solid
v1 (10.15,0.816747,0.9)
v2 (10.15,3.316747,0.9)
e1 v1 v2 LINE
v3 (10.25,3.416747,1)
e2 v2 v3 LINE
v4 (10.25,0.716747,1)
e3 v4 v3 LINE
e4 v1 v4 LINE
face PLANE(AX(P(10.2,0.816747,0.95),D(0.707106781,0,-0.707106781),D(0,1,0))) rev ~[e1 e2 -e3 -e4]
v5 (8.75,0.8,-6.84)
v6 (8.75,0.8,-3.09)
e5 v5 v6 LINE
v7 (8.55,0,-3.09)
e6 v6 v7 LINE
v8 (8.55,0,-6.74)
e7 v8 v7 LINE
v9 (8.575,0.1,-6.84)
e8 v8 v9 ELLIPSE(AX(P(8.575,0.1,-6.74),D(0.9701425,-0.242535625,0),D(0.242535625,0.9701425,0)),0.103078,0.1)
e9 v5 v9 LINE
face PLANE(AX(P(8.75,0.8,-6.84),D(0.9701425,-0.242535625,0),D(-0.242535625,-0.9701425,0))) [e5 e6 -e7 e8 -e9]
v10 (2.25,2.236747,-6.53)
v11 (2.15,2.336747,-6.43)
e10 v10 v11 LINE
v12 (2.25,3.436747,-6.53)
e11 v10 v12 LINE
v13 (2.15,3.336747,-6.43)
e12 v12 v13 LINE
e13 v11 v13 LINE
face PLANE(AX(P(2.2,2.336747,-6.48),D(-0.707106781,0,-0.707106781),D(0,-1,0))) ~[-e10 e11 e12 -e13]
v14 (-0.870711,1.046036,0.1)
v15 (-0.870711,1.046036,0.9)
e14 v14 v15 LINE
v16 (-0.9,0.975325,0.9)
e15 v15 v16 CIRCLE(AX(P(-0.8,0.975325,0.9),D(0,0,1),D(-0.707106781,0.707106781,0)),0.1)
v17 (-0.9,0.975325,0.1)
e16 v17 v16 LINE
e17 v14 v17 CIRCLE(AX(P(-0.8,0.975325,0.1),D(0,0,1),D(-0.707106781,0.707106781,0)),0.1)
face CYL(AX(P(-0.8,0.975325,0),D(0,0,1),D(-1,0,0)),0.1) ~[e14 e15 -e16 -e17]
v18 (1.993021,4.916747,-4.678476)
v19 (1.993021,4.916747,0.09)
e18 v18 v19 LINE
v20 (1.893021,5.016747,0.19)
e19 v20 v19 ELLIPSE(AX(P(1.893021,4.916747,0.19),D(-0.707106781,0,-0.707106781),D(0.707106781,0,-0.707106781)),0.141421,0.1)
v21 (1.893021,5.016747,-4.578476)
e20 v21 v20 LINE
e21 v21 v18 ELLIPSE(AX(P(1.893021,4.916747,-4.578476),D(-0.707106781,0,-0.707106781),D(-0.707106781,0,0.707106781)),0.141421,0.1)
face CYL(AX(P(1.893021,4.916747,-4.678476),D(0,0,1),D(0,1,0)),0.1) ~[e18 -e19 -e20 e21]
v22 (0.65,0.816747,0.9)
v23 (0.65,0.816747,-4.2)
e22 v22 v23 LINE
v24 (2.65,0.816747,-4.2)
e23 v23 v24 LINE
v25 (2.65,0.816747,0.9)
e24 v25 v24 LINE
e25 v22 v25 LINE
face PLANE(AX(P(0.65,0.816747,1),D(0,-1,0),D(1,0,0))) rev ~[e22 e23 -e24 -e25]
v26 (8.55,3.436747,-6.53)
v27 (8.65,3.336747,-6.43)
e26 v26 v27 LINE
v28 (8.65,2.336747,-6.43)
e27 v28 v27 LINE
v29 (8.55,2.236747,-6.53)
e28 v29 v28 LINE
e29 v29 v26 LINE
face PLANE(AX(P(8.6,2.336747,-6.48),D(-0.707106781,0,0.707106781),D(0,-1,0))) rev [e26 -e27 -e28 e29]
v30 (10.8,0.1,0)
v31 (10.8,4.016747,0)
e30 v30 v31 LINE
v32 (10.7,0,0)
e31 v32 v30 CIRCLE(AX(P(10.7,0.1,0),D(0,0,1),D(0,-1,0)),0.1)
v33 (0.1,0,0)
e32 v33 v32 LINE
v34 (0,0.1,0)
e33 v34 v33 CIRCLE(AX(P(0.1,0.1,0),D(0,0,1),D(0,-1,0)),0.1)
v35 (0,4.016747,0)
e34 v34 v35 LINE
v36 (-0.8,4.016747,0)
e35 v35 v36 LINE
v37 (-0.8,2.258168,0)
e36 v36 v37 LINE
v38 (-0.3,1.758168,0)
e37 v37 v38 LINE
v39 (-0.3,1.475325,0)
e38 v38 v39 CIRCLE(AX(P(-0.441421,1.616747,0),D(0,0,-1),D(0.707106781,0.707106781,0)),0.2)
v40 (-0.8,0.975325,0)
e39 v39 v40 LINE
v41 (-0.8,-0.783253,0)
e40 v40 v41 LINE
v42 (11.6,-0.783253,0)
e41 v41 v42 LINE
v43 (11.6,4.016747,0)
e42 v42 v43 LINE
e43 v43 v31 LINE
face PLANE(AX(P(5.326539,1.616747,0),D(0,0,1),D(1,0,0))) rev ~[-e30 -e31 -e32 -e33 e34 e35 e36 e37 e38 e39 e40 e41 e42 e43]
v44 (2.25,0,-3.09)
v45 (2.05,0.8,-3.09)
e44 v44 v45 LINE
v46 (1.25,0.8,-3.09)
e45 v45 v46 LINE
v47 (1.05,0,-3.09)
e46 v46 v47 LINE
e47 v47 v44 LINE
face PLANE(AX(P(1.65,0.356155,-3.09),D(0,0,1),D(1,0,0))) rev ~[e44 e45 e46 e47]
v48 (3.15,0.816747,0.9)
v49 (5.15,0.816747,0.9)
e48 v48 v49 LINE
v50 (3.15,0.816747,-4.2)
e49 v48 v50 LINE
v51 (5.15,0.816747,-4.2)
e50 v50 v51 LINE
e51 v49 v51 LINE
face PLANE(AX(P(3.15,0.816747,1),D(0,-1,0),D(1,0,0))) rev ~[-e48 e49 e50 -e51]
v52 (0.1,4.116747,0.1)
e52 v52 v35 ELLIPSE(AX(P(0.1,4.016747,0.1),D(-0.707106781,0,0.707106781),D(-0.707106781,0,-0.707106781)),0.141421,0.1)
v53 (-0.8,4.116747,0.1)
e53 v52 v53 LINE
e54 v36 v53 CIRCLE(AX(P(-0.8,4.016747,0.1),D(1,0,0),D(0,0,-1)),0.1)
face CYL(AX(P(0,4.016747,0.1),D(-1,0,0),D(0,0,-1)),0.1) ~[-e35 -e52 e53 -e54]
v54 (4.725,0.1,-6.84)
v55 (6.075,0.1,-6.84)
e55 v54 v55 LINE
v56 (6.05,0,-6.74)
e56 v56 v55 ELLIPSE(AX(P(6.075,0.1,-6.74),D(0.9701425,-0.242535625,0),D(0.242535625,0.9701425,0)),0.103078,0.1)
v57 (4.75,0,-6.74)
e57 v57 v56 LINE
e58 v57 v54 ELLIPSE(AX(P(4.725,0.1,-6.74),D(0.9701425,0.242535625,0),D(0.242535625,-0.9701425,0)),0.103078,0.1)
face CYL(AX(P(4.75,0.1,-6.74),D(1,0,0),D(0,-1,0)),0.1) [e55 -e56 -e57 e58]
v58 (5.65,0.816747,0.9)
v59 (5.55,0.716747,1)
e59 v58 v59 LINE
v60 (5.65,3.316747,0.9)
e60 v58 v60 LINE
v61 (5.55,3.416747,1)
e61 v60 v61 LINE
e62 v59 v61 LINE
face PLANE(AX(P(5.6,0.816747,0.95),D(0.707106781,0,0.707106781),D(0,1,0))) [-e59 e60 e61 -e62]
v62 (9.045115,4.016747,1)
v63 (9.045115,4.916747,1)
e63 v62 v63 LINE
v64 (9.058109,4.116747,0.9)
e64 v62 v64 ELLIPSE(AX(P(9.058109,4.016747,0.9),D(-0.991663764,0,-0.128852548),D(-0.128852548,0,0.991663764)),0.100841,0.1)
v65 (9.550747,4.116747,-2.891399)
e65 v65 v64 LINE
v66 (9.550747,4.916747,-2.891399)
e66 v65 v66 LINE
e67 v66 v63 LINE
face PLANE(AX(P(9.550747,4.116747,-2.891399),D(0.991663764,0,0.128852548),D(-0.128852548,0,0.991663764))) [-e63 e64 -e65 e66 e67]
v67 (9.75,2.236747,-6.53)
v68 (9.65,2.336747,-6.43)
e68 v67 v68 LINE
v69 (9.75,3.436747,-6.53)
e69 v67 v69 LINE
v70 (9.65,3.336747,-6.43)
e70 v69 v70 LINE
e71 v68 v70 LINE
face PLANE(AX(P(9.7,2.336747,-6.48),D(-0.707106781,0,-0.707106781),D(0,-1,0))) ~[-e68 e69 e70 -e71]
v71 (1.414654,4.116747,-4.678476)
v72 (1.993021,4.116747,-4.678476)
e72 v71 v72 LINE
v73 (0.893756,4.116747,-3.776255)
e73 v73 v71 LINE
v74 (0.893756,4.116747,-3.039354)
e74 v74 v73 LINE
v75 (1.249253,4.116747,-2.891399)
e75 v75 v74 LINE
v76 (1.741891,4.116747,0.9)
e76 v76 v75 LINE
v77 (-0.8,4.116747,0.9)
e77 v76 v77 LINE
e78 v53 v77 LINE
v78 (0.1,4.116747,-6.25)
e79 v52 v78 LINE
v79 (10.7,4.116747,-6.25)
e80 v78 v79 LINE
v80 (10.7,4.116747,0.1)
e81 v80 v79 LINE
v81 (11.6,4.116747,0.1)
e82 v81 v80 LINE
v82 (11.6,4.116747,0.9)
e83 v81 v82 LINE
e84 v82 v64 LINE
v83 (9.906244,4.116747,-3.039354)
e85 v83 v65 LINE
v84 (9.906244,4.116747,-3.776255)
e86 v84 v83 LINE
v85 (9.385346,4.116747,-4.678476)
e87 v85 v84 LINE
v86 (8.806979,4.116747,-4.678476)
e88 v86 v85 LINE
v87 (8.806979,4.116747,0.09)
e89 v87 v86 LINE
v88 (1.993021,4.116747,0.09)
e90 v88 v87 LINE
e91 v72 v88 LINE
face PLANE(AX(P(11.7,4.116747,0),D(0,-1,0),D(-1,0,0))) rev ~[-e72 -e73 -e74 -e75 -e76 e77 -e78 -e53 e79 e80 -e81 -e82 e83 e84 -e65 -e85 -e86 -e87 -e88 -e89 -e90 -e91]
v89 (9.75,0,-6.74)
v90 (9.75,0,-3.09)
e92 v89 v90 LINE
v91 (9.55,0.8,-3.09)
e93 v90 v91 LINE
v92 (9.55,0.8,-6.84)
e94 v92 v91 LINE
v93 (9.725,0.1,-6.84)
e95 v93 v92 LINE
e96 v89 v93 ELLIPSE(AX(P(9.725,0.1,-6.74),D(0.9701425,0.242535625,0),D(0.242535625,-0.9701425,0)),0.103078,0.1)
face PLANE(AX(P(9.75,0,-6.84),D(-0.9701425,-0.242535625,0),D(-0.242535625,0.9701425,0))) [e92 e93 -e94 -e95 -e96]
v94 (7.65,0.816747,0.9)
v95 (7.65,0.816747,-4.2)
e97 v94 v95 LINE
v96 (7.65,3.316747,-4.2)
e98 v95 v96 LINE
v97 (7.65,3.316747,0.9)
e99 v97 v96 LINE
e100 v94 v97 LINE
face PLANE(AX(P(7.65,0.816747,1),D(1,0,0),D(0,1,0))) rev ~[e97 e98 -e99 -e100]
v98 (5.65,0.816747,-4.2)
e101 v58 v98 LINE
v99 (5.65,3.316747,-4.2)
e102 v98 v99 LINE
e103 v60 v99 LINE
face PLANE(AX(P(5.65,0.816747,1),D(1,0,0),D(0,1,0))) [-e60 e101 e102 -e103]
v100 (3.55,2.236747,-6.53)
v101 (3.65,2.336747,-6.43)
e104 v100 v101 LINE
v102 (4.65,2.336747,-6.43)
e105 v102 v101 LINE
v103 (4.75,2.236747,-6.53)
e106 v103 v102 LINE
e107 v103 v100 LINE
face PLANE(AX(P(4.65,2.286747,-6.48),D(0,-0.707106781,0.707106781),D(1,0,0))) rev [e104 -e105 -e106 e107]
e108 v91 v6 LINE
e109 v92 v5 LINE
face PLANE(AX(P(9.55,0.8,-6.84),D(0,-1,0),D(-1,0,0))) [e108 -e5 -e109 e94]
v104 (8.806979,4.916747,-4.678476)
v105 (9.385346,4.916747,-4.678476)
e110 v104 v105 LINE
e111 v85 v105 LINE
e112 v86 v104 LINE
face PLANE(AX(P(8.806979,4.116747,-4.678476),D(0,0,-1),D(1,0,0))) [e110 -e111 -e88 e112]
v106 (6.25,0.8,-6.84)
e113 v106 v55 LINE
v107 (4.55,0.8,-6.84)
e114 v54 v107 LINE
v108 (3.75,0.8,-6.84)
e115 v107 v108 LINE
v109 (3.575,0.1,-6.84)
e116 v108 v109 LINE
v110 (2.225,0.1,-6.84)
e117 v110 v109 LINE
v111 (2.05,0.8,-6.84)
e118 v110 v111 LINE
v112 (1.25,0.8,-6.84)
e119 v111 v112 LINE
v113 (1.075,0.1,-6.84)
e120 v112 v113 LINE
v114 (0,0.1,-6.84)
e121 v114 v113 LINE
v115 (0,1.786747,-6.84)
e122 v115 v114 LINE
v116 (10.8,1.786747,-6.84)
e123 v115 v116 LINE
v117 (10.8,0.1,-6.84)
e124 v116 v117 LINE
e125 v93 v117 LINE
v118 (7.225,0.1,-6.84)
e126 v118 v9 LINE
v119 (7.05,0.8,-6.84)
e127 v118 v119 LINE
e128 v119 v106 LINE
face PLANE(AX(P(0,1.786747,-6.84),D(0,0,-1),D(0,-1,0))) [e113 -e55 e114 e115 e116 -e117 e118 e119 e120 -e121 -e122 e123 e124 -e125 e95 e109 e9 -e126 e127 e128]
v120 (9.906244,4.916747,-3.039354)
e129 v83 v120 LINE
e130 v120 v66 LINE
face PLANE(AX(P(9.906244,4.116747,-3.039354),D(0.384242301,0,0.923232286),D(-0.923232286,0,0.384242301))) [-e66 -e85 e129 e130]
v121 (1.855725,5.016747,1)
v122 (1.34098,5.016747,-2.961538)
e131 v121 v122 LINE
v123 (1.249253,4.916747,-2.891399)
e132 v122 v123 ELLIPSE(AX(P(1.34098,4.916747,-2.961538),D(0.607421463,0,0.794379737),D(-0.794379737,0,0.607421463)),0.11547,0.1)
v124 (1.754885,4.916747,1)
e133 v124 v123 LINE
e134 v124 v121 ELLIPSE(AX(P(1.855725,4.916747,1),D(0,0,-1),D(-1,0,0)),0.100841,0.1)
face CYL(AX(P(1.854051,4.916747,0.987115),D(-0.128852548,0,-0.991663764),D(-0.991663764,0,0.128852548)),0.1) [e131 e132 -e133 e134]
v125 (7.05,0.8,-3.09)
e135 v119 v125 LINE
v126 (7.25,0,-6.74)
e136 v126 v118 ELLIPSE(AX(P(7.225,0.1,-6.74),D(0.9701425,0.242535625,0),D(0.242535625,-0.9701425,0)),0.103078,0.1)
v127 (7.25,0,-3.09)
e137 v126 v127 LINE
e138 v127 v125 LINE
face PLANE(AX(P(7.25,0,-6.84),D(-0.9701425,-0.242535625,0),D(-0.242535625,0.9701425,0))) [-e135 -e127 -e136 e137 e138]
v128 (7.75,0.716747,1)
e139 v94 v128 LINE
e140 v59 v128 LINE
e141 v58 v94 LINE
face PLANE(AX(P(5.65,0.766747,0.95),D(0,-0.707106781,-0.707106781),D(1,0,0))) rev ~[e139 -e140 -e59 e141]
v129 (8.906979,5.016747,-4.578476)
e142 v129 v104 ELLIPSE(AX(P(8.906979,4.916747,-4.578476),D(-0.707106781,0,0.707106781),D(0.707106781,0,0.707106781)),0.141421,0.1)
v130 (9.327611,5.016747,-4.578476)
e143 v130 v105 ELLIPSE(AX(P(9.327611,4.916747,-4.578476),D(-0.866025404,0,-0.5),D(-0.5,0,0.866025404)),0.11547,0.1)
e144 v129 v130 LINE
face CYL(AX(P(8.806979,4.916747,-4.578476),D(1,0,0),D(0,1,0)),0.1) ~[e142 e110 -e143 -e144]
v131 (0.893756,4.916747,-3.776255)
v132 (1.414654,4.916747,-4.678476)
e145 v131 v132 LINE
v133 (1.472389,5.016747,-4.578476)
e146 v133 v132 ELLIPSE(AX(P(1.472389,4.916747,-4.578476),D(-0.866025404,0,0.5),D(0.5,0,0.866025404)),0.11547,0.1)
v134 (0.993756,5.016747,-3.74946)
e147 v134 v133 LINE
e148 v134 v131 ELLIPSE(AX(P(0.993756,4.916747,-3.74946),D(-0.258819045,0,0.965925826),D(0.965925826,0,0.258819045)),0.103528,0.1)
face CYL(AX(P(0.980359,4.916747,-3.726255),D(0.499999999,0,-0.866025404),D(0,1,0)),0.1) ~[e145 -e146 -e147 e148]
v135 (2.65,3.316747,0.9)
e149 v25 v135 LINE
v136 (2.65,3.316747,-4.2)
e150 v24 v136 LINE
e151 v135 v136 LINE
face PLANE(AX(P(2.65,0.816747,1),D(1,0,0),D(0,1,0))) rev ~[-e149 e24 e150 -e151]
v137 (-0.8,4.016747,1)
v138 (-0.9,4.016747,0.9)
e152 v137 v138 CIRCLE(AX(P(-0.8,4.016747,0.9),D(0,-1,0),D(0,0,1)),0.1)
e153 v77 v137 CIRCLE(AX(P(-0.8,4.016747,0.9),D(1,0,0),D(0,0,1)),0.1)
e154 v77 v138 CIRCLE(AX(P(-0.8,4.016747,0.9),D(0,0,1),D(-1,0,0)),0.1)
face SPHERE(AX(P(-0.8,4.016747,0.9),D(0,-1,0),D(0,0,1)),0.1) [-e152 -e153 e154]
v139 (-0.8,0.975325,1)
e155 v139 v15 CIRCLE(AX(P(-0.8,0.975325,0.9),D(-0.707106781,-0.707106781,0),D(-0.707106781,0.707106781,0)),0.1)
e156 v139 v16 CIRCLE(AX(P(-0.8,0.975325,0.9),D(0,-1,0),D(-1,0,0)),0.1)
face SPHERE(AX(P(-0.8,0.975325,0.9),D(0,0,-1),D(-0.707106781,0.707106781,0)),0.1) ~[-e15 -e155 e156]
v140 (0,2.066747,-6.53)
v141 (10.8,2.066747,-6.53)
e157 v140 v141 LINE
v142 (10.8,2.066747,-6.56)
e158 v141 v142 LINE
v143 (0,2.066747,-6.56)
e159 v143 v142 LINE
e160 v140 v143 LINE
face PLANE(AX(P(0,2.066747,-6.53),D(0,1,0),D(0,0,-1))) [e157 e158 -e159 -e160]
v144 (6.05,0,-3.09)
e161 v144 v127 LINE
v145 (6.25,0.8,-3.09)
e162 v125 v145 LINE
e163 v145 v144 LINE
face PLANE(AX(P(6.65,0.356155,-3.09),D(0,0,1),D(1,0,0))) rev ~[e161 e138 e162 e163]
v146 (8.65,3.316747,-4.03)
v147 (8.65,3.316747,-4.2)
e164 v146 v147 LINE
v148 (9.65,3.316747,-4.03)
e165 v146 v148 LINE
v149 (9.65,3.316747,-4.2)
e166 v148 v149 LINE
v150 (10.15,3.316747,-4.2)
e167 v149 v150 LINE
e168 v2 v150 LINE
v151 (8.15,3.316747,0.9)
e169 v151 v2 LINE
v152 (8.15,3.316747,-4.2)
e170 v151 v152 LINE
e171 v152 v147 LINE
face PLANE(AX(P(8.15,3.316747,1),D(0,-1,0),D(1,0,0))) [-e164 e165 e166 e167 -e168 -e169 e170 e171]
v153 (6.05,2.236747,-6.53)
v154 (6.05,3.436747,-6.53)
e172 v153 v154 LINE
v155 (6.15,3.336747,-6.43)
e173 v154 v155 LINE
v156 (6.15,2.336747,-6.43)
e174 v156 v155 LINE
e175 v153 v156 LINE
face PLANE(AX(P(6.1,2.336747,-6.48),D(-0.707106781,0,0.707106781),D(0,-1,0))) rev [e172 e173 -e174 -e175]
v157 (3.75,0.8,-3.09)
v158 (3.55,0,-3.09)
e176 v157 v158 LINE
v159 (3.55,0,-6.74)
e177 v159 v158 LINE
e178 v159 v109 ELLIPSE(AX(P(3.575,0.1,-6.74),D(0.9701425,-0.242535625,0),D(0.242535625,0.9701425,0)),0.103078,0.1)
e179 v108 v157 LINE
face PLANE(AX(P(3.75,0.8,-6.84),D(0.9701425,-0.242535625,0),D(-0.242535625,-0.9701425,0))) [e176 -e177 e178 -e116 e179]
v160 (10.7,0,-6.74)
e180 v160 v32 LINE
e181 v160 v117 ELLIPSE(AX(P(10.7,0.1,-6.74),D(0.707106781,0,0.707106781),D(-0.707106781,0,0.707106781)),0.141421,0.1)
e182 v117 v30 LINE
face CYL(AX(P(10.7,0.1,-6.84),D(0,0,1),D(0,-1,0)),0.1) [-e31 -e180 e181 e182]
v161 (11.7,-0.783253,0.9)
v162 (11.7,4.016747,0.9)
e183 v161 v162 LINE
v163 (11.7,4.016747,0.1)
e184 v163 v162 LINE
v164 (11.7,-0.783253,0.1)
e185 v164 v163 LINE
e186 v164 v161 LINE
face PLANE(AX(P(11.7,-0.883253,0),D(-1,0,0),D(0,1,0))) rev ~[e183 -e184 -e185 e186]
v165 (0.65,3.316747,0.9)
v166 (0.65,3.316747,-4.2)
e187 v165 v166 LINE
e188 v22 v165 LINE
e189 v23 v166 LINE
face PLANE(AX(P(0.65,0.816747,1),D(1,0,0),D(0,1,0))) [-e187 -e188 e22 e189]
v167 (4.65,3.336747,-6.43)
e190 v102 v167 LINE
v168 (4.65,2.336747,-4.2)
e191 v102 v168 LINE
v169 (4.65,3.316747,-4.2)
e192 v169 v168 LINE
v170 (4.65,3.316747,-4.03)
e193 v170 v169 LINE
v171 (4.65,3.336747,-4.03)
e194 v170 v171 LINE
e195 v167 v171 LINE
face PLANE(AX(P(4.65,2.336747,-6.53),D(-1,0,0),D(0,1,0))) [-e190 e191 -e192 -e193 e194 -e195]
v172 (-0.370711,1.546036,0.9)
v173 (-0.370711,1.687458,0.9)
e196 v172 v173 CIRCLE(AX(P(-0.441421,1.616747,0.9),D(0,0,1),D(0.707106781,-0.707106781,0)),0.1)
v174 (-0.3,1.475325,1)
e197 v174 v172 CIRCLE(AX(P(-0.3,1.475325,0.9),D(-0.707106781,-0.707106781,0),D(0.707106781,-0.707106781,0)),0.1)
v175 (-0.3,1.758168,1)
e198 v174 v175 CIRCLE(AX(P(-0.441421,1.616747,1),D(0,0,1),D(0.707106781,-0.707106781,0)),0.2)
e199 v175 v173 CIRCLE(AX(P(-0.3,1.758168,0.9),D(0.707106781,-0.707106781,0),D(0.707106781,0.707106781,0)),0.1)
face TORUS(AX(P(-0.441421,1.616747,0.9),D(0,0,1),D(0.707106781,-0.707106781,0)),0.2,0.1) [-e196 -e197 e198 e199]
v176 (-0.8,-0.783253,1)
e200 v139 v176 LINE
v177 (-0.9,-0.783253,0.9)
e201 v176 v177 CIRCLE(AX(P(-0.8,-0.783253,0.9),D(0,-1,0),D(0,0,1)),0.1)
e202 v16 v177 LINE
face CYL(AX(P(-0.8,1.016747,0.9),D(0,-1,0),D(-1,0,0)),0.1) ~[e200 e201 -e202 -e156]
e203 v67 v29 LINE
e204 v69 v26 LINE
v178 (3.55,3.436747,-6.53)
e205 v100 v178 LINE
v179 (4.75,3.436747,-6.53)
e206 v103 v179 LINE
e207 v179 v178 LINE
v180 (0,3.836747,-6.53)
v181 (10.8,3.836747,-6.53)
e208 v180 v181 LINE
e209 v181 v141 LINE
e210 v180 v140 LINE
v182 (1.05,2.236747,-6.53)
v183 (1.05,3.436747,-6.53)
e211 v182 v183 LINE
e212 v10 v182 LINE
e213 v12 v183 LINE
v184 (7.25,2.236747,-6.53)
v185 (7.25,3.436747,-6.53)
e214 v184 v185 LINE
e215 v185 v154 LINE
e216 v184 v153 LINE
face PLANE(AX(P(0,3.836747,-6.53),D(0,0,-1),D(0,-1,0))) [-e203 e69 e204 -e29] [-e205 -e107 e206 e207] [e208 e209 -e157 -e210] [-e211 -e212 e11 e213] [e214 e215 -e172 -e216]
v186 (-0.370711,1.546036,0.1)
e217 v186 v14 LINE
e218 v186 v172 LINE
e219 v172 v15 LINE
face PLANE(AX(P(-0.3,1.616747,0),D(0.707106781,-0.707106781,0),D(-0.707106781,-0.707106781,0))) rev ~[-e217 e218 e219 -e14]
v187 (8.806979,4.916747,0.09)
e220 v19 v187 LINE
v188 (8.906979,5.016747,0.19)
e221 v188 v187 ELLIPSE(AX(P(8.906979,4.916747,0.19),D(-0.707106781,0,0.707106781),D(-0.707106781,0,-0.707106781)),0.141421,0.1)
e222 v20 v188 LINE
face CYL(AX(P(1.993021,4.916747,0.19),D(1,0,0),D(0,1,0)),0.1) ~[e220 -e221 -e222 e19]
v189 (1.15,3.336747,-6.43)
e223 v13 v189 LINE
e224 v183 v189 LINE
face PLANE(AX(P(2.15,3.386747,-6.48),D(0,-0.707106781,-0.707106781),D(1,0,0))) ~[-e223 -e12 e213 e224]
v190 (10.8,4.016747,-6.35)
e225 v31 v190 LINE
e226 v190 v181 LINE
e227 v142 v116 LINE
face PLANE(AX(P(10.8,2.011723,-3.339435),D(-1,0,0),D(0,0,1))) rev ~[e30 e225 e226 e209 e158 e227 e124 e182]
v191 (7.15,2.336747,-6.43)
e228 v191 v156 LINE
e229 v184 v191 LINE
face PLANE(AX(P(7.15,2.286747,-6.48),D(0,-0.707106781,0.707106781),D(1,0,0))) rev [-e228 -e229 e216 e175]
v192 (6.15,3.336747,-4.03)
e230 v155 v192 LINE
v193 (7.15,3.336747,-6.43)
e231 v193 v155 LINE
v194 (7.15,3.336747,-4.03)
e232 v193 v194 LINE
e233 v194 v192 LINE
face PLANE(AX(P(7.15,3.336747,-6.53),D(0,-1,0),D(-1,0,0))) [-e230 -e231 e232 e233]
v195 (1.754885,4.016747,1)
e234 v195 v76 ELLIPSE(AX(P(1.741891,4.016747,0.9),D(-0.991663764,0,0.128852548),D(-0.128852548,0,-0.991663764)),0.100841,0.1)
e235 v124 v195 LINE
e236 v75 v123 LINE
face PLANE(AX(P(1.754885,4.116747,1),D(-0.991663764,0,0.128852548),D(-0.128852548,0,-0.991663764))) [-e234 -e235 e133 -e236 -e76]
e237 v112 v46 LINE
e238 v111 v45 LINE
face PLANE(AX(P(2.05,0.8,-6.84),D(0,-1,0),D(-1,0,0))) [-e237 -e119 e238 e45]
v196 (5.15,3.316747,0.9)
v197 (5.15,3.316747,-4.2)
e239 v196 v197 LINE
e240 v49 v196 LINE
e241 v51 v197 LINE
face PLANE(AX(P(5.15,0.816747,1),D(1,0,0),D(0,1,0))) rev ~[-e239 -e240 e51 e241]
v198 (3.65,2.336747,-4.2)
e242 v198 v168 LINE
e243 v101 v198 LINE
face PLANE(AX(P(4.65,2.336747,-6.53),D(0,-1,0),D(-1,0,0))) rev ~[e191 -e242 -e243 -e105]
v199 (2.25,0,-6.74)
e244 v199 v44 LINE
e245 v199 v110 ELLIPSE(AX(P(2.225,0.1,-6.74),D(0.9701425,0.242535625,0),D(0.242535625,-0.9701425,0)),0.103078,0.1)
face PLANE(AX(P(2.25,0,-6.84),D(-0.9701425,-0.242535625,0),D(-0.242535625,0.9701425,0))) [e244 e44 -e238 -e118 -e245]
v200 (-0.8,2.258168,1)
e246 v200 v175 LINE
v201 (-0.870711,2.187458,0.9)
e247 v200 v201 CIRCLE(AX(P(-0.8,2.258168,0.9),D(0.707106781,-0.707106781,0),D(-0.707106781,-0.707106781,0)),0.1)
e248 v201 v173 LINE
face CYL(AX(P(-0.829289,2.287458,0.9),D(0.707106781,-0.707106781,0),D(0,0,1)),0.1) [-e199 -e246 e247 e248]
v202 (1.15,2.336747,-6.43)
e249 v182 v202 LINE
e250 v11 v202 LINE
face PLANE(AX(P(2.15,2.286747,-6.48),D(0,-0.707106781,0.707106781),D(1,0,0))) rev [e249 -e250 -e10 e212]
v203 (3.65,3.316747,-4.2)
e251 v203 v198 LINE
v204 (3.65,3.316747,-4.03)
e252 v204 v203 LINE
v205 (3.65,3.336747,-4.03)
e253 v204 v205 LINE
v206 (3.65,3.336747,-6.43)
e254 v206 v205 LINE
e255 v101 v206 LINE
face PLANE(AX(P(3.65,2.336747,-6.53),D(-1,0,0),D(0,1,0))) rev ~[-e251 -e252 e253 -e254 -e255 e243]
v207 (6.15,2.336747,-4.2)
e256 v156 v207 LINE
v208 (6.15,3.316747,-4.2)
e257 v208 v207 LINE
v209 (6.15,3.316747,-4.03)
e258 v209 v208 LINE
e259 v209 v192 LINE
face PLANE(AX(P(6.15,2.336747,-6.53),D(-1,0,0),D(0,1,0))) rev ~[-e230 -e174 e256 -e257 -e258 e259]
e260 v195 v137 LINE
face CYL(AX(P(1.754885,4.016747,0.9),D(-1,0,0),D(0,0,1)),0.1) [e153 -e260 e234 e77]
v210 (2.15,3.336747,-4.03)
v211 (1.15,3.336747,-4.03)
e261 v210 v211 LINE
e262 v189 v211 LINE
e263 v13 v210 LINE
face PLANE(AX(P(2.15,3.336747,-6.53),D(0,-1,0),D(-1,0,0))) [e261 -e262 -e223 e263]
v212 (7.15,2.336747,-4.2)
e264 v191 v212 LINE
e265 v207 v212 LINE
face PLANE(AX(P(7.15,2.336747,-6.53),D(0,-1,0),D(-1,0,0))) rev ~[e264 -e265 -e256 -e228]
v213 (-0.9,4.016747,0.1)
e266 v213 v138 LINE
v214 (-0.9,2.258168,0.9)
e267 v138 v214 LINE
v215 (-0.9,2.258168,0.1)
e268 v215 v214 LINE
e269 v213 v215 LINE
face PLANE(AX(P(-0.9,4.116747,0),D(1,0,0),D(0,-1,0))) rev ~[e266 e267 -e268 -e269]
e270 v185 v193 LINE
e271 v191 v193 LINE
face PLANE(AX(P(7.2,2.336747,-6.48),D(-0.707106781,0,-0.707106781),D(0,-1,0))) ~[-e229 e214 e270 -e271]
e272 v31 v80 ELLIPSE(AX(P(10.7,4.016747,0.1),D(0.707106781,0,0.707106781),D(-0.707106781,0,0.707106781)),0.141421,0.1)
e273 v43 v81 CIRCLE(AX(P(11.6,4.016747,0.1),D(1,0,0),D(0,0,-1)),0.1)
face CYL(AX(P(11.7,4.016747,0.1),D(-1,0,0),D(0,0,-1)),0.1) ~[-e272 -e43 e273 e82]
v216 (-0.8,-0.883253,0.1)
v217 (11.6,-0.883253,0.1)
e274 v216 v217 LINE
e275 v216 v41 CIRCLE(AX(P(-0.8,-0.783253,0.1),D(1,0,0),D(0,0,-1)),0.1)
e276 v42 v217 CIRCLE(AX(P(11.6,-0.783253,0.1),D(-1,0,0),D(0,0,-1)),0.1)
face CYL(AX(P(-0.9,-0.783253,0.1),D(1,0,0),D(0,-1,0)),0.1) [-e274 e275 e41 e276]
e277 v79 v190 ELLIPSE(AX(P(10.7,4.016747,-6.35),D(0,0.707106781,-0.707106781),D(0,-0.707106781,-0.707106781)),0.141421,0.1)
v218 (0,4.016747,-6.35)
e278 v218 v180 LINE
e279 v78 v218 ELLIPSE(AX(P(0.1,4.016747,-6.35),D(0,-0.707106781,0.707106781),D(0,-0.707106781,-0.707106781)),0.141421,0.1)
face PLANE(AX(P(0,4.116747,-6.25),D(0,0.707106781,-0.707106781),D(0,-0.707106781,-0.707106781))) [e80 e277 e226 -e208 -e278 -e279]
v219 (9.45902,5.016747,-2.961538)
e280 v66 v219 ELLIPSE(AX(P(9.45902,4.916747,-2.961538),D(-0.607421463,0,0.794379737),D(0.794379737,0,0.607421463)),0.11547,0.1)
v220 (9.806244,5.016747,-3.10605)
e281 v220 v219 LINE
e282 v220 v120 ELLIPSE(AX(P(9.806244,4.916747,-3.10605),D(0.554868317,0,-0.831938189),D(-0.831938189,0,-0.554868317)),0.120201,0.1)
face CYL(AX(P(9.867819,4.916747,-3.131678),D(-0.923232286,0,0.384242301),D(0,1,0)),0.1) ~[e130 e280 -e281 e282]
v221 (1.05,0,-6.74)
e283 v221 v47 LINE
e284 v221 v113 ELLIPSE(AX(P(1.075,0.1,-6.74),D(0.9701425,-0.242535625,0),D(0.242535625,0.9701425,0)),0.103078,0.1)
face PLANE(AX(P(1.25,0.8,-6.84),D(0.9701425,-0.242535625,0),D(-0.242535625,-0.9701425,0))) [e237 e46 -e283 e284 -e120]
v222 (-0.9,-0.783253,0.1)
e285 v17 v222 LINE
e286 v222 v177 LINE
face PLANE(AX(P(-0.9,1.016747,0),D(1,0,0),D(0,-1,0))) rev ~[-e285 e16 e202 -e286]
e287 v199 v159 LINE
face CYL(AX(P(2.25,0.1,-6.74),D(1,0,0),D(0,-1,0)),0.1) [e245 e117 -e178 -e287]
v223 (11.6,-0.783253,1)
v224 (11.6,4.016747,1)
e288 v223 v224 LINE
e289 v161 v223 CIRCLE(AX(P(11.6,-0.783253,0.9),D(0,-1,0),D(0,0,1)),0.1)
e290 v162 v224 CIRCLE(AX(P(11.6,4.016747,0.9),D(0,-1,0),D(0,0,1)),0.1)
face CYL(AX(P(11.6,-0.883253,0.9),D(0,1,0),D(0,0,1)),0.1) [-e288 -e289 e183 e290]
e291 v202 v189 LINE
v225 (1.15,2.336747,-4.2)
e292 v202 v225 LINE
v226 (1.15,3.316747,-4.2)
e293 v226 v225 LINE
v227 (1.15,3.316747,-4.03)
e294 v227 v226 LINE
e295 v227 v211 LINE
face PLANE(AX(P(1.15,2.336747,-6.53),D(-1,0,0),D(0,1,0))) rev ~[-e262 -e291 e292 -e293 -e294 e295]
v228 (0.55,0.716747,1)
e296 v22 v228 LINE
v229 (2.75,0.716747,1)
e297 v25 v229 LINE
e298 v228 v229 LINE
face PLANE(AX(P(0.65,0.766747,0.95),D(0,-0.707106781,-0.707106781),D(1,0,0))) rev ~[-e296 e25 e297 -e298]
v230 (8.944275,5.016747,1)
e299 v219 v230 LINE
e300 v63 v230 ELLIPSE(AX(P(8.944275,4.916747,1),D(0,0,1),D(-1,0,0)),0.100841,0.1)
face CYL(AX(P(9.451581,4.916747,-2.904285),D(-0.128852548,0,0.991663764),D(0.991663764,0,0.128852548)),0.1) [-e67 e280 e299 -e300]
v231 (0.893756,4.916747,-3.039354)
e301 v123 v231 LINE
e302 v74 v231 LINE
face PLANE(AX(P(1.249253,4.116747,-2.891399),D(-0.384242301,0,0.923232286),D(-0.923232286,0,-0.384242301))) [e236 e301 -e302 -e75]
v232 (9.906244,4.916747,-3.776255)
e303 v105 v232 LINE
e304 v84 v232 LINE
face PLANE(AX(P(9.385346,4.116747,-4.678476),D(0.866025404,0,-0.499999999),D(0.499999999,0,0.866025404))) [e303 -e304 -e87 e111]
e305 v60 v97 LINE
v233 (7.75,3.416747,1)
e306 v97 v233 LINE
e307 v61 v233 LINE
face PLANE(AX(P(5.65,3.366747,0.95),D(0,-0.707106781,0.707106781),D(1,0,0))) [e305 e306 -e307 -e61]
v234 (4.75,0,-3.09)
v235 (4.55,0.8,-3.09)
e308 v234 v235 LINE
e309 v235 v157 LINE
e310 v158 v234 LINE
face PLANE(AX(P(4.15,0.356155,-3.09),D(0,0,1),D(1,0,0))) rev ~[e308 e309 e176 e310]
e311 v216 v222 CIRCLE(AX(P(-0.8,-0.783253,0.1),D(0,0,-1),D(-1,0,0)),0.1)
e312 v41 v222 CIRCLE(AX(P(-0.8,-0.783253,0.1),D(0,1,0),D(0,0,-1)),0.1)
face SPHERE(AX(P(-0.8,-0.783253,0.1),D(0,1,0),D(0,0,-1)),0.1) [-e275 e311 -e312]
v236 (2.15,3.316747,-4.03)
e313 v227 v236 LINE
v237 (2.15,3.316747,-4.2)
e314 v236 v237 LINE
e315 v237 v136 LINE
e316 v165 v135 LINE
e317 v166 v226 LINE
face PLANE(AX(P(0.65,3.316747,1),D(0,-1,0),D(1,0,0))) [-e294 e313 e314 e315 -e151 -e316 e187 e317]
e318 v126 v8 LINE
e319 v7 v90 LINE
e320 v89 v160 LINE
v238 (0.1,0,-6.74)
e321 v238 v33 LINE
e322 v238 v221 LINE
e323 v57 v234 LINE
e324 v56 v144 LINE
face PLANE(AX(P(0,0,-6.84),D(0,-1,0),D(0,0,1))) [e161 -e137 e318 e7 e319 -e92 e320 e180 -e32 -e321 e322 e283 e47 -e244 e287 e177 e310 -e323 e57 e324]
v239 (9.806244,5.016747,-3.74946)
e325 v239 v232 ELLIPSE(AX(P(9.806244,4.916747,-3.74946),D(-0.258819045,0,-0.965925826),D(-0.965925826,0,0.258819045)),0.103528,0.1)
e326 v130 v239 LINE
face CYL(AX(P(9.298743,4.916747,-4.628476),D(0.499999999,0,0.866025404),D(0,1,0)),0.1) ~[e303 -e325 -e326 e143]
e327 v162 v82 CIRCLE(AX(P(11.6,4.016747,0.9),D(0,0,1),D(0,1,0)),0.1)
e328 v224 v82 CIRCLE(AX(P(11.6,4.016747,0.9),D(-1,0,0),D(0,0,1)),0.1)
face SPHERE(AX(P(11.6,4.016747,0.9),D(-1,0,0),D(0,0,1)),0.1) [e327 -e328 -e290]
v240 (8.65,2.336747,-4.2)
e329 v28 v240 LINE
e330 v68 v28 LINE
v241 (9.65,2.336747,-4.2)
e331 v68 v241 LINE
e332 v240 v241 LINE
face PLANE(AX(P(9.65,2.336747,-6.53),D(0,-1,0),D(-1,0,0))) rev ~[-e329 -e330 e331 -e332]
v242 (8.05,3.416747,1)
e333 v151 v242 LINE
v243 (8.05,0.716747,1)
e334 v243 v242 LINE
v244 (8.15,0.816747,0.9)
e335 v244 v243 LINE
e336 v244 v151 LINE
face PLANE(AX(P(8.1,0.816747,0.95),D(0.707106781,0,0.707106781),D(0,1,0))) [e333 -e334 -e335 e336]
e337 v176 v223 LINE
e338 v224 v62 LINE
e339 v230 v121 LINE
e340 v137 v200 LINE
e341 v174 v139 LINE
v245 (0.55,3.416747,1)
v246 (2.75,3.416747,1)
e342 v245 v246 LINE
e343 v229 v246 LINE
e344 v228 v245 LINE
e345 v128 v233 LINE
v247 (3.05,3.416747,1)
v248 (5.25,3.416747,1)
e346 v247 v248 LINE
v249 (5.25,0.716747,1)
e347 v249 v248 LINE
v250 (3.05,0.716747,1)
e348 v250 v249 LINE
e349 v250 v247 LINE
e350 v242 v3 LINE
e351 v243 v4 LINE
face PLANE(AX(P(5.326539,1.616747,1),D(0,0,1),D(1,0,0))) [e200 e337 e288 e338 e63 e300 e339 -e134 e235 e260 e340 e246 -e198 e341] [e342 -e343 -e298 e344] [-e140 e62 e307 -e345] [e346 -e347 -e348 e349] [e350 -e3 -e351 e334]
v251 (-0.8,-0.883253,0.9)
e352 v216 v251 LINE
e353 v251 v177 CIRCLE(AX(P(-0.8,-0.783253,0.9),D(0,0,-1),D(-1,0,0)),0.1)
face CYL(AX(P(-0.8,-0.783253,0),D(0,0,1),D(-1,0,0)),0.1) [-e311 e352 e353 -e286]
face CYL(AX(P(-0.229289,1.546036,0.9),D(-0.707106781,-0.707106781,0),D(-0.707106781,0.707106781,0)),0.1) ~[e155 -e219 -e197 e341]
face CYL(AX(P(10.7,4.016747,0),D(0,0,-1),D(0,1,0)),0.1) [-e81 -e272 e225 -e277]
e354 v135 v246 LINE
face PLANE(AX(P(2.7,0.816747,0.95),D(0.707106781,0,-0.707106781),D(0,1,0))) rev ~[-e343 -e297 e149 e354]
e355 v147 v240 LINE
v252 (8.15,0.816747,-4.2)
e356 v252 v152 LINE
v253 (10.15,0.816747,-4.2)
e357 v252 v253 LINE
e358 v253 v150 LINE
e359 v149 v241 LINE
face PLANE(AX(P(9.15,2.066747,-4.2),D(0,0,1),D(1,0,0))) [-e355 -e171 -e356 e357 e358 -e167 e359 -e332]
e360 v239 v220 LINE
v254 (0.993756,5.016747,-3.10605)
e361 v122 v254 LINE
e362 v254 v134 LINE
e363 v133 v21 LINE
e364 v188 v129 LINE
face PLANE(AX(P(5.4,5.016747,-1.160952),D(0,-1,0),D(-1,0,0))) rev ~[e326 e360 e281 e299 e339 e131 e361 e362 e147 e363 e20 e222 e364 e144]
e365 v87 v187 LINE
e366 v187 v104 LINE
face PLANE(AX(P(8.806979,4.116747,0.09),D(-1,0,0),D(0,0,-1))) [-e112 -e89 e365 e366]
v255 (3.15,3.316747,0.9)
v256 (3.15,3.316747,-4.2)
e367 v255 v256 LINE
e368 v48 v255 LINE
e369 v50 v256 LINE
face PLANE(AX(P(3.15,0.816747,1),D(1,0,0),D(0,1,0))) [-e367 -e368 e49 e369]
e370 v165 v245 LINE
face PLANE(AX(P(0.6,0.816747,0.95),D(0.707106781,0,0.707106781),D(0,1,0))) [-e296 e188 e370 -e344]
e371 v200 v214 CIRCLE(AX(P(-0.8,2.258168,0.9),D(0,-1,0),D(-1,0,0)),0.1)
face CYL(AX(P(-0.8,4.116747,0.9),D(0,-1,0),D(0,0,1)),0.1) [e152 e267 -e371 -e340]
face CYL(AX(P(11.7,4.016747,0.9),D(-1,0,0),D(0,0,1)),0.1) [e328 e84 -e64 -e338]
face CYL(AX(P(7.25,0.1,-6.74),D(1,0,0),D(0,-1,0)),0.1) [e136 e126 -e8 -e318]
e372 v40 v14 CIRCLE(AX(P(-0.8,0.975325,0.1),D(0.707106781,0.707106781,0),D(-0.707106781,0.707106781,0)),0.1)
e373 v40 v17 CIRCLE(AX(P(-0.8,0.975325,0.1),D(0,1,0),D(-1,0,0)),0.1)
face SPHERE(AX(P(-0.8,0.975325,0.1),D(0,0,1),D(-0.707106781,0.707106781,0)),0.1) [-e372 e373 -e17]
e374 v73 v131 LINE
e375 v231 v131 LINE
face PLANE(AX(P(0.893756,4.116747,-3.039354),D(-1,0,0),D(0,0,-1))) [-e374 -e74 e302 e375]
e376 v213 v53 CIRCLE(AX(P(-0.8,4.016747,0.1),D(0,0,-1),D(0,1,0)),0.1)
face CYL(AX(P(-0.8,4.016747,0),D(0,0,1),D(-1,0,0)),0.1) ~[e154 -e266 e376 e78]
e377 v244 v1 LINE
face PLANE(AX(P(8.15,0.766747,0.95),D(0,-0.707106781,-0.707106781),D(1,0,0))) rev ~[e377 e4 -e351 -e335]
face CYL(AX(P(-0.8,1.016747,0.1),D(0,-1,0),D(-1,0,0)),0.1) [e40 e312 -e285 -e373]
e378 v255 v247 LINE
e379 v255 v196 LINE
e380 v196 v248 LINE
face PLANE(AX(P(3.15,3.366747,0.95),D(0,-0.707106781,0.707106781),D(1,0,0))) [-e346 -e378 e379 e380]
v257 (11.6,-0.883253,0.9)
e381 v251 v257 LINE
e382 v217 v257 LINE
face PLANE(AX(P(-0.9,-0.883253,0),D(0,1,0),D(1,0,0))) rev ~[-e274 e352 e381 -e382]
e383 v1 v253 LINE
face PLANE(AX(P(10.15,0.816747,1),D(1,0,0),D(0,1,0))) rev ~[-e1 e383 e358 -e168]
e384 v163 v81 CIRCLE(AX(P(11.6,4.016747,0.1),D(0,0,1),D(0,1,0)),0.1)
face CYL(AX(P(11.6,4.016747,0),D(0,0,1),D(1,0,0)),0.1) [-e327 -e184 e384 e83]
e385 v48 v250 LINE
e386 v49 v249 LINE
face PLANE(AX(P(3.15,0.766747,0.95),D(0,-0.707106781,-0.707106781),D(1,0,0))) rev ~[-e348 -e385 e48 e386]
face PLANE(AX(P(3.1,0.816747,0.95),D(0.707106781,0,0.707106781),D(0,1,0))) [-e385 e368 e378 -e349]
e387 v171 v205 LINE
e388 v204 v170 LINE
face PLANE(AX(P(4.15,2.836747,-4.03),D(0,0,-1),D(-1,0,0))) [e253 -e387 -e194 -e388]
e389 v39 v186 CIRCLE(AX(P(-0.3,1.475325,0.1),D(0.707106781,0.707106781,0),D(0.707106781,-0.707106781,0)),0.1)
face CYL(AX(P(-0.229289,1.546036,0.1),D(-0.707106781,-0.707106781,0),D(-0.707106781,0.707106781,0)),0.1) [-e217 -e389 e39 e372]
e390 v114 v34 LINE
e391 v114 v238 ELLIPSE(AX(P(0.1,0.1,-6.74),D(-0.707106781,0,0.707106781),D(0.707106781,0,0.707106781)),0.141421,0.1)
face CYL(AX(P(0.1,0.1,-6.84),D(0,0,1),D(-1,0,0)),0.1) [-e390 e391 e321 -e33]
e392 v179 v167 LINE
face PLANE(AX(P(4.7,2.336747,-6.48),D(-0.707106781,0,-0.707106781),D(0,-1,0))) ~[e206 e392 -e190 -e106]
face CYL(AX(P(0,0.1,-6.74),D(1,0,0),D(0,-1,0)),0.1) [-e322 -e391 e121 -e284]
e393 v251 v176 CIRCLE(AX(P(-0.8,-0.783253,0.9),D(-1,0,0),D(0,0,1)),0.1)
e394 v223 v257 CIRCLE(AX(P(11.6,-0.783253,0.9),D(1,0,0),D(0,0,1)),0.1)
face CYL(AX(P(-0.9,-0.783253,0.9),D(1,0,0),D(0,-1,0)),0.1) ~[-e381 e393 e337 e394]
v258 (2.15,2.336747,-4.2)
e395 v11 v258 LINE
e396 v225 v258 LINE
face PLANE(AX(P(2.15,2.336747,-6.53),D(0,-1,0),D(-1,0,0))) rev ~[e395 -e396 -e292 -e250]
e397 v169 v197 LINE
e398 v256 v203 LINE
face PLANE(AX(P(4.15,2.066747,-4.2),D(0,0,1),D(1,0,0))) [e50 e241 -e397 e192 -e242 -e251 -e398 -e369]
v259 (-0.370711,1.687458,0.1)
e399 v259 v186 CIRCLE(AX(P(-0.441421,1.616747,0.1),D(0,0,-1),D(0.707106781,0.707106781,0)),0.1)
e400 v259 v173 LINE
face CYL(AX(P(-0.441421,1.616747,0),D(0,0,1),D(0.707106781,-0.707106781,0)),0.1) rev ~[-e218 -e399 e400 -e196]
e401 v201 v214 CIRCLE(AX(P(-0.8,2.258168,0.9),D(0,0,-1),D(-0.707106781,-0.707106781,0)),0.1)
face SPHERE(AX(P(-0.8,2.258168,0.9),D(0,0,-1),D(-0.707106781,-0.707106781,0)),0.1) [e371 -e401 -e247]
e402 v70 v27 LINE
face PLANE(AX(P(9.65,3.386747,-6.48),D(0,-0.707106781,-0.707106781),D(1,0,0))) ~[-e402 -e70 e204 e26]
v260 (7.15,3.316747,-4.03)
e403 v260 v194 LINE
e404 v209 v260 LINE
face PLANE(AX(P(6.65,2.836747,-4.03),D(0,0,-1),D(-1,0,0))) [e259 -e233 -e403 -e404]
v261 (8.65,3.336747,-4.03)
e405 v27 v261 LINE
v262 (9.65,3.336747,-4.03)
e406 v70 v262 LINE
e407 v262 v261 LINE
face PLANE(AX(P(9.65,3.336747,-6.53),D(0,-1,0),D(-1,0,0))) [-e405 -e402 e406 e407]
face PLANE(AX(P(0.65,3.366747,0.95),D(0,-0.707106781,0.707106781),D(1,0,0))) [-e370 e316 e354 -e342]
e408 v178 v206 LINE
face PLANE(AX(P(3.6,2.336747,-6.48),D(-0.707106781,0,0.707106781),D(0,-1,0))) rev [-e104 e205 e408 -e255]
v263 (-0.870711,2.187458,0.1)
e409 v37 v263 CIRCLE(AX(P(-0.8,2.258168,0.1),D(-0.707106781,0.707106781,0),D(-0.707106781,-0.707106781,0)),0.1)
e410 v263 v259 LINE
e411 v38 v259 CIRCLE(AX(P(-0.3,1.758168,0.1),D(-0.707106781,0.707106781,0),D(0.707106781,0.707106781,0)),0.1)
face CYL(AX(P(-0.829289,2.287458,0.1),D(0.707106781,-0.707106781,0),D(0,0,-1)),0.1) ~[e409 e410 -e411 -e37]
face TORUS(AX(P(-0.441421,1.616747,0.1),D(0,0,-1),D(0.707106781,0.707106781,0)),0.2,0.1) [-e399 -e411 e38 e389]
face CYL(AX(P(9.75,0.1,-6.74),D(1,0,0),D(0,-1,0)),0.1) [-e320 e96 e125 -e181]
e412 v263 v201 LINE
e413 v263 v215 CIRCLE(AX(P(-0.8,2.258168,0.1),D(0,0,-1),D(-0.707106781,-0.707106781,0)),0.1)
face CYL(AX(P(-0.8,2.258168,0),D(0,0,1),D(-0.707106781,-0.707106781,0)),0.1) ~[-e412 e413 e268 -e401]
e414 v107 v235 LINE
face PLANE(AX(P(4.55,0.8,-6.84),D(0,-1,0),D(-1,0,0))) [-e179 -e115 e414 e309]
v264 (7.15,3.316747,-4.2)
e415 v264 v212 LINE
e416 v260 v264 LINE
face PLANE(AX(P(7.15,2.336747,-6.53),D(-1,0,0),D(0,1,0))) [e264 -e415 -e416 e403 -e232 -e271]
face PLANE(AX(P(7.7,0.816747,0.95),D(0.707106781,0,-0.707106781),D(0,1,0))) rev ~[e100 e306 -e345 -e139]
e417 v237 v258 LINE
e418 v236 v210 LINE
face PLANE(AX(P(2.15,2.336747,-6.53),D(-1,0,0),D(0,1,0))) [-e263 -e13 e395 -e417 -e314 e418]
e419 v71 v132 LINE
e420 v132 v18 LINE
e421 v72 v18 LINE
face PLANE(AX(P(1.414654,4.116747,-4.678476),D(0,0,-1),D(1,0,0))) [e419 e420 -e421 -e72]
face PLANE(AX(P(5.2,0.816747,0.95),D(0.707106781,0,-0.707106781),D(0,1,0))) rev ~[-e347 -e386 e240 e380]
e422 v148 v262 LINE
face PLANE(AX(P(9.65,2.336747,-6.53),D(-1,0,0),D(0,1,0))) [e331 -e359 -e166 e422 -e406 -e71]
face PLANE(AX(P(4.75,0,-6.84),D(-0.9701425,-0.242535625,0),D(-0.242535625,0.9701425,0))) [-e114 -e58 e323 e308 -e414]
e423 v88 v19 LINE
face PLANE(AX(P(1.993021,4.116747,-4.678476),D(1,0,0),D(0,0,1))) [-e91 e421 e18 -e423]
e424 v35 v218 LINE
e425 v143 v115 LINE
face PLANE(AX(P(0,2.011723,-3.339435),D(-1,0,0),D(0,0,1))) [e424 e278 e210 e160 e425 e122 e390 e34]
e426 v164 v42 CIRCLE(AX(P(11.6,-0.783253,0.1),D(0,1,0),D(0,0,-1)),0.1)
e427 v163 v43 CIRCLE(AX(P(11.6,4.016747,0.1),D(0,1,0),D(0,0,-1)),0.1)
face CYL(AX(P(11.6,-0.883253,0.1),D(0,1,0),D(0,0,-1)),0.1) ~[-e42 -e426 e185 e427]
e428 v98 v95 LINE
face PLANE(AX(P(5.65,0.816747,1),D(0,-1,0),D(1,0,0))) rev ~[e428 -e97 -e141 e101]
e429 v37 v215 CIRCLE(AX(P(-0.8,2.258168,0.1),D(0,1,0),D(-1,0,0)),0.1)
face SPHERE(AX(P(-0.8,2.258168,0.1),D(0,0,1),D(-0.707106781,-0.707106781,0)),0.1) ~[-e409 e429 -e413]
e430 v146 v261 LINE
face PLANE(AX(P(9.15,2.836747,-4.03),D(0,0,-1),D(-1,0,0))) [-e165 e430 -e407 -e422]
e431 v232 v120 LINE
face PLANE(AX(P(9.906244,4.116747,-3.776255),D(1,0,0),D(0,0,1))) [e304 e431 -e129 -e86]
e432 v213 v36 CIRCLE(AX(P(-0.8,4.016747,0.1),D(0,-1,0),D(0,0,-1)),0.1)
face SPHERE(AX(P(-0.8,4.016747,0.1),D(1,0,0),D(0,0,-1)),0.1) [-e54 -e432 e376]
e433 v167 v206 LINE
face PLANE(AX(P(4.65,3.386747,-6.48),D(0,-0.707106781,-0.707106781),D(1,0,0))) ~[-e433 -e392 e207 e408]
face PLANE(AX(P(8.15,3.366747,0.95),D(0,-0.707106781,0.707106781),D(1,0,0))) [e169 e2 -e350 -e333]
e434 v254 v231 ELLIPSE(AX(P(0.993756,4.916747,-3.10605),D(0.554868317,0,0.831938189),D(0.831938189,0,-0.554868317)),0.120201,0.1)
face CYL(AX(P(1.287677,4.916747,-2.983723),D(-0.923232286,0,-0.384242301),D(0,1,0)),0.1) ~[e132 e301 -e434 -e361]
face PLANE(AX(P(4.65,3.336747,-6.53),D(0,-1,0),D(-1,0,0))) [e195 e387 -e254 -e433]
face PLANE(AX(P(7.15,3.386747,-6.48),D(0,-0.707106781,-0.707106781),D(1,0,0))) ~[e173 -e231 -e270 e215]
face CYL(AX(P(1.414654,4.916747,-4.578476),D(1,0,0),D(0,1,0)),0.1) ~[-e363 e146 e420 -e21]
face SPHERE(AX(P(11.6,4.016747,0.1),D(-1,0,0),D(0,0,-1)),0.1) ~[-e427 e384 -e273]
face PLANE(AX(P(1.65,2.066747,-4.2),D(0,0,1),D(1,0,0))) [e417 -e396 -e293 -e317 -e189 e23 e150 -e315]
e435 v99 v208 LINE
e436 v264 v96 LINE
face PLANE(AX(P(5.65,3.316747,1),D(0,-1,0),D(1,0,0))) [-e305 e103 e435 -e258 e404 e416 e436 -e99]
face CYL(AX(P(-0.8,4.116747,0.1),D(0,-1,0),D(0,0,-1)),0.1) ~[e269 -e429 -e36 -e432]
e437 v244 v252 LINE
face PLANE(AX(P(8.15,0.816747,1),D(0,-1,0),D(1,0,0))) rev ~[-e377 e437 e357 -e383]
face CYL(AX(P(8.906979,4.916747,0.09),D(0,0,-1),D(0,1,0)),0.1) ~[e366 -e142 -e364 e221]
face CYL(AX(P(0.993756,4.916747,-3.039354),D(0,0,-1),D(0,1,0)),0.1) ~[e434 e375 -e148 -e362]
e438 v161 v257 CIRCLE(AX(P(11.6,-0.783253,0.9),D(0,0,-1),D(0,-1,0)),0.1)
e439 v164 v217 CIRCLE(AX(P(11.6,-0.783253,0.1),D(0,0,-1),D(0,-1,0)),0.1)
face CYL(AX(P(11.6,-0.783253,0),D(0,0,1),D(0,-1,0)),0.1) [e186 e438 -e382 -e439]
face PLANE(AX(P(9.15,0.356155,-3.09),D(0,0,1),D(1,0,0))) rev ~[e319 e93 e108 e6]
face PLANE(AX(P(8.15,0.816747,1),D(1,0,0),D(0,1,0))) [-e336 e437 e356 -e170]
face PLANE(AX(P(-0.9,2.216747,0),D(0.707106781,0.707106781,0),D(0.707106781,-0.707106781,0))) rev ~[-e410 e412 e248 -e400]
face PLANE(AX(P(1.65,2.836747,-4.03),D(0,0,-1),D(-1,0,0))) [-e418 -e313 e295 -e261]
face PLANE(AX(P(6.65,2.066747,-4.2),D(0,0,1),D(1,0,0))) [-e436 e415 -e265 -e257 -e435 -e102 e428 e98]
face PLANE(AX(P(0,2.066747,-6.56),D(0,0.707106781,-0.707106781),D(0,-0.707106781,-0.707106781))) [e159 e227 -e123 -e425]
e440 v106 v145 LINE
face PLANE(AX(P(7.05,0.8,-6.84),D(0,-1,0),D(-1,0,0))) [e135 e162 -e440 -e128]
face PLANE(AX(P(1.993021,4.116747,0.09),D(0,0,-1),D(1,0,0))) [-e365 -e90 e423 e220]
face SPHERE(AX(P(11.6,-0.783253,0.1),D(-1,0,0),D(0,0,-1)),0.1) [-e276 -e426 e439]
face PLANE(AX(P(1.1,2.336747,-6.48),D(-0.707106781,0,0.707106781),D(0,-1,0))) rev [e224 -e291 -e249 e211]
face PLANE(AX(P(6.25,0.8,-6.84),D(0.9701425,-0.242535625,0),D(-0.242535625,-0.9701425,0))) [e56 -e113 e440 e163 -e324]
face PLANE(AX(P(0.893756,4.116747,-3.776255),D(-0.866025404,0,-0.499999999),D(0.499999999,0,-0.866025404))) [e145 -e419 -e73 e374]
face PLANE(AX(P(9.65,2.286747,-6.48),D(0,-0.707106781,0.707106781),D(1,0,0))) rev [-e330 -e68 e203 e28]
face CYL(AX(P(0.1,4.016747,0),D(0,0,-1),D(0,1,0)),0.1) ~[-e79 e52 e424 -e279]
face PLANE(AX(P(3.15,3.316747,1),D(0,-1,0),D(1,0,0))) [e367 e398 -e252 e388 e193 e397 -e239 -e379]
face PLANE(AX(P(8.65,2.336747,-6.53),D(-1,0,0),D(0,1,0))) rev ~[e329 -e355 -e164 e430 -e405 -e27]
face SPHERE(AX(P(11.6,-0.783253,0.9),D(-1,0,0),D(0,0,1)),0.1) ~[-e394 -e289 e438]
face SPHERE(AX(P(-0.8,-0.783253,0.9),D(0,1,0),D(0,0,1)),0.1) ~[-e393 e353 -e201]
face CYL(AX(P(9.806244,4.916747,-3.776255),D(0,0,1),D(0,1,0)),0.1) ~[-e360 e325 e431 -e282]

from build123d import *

# Parameters (mm, degrees)
BOSS_EXTRUDE1_DEPTH = 10.8
BOSS_EXTRUDE2_DEPTH = 1
BOSS_EXTRUDE3_DEPTH = 0.9
SKETCH5_W           = 2
SKETCH5_H           = 2.5
CUT_EXTRUDE1_DEPTH  = 5.2
CUT_EXTRUDE2_DEPTH  = 3.75
SKETCH7_W           = 1
SKETCH7_H           = 1
CUT_EXTRUDE3_DEPTH  = 2.5
FILLET1_R           = 0.1
CHAMFER1_SIZE       = 0.1


with BuildPart() as part:
    # Sketch2 → Boss-Extrude1 (new body)
    with BuildSketch(Plane(origin=(0, 0, 0), x_dir=(0, 0, -1), z_dir=(1, 0, 0))):
        Polygon((0, 4.116746825), (6.25, 4.116746825), (6.53, 3.836746825), (6.53, 2.066746825), (6.56, 2.066746825), (6.84, 1.786746825), (6.84, 0), (0, 0), align=None)
    extrude(amount=BOSS_EXTRUDE1_DEPTH)

    # Sketch3 → Boss-Extrude2 (add)
    with BuildSketch(Plane.XY):
        Polygon((-0.9, 1.016746825), (-0.9, -0.883253175), (11.7, -0.883253175), (11.7, 4.116746825), (-0.9, 4.116746825), (-0.9, 2.216746825), (-0.3, 1.616746825), align=None)
    extrude(amount=BOSS_EXTRUDE2_DEPTH)

    # Sketch4 → Boss-Extrude3 (add)
    with BuildSketch(Plane(origin=(0, 4.116746825, 0), x_dir=(1, 0, 0), z_dir=(0, 1, 0))):
        Polygon((1.249253009, 2.891399382), (0.893756458, 3.03935436), (0.893756458, 3.77625502), (1.41465396, 4.678475961), (1.993020778, 4.678475961), (1.993020778, -0.09), (8.806979222, -0.09), (8.806979222, 4.678475961), (9.38534604, 4.678475961), (9.906243542, 3.77625502), (9.906243542, 3.03935436), (9.550746991, 2.891399382), (9.045115198, -1), (1.754884802, -1), align=None)
    extrude(amount=BOSS_EXTRUDE3_DEPTH)

    # Sketch5 → Cut-Extrude1 (cut)
    with BuildSketch(Plane.XY.offset(1)):
        with Locations((1.65, 2.066746825)):
            Rectangle(SKETCH5_W, SKETCH5_H)
        with Locations((4.15, 2.066746825)):
            Rectangle(SKETCH5_W, SKETCH5_H)
        with Locations((6.65, 2.066746825)):
            Rectangle(SKETCH5_W, SKETCH5_H)
        with Locations((9.15, 2.066746825)):
            Rectangle(SKETCH5_W, SKETCH5_H)
    extrude(amount=-CUT_EXTRUDE1_DEPTH, mode=Mode.SUBTRACT)

    # Sketch6 → Cut-Extrude2 (cut)
    with BuildSketch(Plane(origin=(0, 0, -6.84), x_dir=(-1, 0, 0), z_dir=(0, 0, -1))):
        Polygon((-9.55, 0.8), (-8.75, 0.8), (-8.55, 0), (-9.75, 0), align=None)
        Polygon((-7.05, 0.8), (-6.25, 0.8), (-6.05, 0), (-7.25, 0), align=None)
        Polygon((-4.55, 0.8), (-3.75, 0.8), (-3.55, 0), (-4.75, 0), align=None)
        Polygon((-2.05, 0.8), (-1.25, 0.8), (-1.05, 0), (-2.25, 0), align=None)
    extrude(amount=-CUT_EXTRUDE2_DEPTH, mode=Mode.SUBTRACT)

    # Sketch7 → Cut-Extrude3 (cut)
    with BuildSketch(Plane(origin=(0, 0, -6.53), x_dir=(-1, 0, 0), z_dir=(0, 0, -1))):
        with Locations((-9.15, 2.836746825)):
            Rectangle(SKETCH7_W, SKETCH7_H)
        with Locations((-6.65, 2.836746825)):
            Rectangle(SKETCH7_W, SKETCH7_H)
        with Locations((-4.15, 2.836746825)):
            Rectangle(SKETCH7_W, SKETCH7_H)
        with Locations((-1.65, 2.836746825)):
            Rectangle(SKETCH7_W, SKETCH7_H)
    extrude(amount=-CUT_EXTRUDE3_DEPTH, mode=Mode.SUBTRACT)

    # Fillet1
    fillet1_edges = [part.edges().sort_by_distance(p)[0] for p in [
        (9.297931094, 5.016746825, -0.945699691),
        (9.728495267, 5.016746825, -2.965376871),
        (9.906243542, 5.016746825, -3.40780469),
        (9.645794791, 5.016746825, -4.22736549),
        (9.096162631, 5.016746825, -4.678475961),
        (8.806979222, 5.016746825, -2.29423798),
        (5.4, 5.016746825, 0.09),
        (1.993020778, 5.016746825, -2.29423798),
        (1.703837369, 5.016746825, -4.678475961),
        (1.154205209, 5.016746825, -4.22736549),
        (0.893756458, 5.016746825, -3.40780469),
        (1.071504733, 5.016746825, -2.965376871),
        (1.502068906, 5.016746825, -0.945699691),
        (-0.6, 1.916746825, 0),
        (-0.6, 1.316746825, 1),
        (0, 0, -3.42),
        (0, 4.116746825, -3.125),
        (10.8, 0, -3.42),
        (-0.45, 4.116746825, 0),
        (-0.9, 3.166746825, 0),
        (-0.6, 1.316746825, 0),
        (-0.9, 0.066746825, 0),
        (5.4, -0.883253175, 0),
        (11.25, 4.116746825, 0),
        (11.7, 1.616746825, 0),
        (10.372557599, 4.116746825, 1),
        (-0.9, 0.066746825, 1),
        (-0.6, 1.916746825, 1),
        (-0.9, 3.166746825, 1),
        (0.427442401, 4.116746825, 1),
        (5.4, -0.883253175, 1),
        (11.7, 1.616746825, 1),
        (-0.3, 1.616746825, 0.5),
        (-0.9, 1.016746825, 0.5),
        (-0.9, 2.216746825, 0.5),
        (-0.9, 4.116746825, 0.5),
        (-0.9, -0.883253175, 0.5),
        (11.7, -0.883253175, 0.5),
        (10.8, 4.116746825, -3.125),
        (11.7, 4.116746825, 0.5),
        (0.525, 0, -6.84),
        (2.9, 0, -6.84),
        (5.4, 0, -6.84),
        (7.9, 0, -6.84),
        (10.275, 0, -6.84),
    ]]
    fillet(fillet1_edges, radius=FILLET1_R)

    # Chamfer1
    chamfer1_edges = [part.edges().sort_by_distance(p)[0] for p in [
        (3.15, 2.066746825, 1),
        (4.15, 0.816746825, 1),
        (5.15, 2.066746825, 1),
        (4.15, 3.316746825, 1),
        (5.65, 2.066746825, 1),
        (6.65, 0.816746825, 1),
        (7.65, 2.066746825, 1),
        (6.65, 3.316746825, 1),
        (8.15, 2.066746825, 1),
        (9.15, 0.816746825, 1),
        (10.15, 2.066746825, 1),
        (9.15, 3.316746825, 1),
        (9.65, 2.836746825, -6.53),
        (9.15, 2.336746825, -6.53),
        (8.65, 2.836746825, -6.53),
        (9.15, 3.336746825, -6.53),
        (7.15, 2.836746825, -6.53),
        (6.65, 2.336746825, -6.53),
        (6.15, 2.836746825, -6.53),
        (6.65, 3.336746825, -6.53),
        (4.65, 2.836746825, -6.53),
        (4.15, 2.336746825, -6.53),
        (3.65, 2.836746825, -6.53),
        (4.15, 3.336746825, -6.53),
        (2.15, 2.836746825, -6.53),
        (1.65, 2.336746825, -6.53),
        (1.15, 2.836746825, -6.53),
        (1.65, 3.336746825, -6.53),
        (0.65, 2.066746825, 1),
        (1.65, 0.816746825, 1),
        (2.65, 2.066746825, 1),
        (1.65, 3.316746825, 1),
    ]]
    chamfer(chamfer1_edges, length=CHAMFER1_SIZE)


solid = part.part
